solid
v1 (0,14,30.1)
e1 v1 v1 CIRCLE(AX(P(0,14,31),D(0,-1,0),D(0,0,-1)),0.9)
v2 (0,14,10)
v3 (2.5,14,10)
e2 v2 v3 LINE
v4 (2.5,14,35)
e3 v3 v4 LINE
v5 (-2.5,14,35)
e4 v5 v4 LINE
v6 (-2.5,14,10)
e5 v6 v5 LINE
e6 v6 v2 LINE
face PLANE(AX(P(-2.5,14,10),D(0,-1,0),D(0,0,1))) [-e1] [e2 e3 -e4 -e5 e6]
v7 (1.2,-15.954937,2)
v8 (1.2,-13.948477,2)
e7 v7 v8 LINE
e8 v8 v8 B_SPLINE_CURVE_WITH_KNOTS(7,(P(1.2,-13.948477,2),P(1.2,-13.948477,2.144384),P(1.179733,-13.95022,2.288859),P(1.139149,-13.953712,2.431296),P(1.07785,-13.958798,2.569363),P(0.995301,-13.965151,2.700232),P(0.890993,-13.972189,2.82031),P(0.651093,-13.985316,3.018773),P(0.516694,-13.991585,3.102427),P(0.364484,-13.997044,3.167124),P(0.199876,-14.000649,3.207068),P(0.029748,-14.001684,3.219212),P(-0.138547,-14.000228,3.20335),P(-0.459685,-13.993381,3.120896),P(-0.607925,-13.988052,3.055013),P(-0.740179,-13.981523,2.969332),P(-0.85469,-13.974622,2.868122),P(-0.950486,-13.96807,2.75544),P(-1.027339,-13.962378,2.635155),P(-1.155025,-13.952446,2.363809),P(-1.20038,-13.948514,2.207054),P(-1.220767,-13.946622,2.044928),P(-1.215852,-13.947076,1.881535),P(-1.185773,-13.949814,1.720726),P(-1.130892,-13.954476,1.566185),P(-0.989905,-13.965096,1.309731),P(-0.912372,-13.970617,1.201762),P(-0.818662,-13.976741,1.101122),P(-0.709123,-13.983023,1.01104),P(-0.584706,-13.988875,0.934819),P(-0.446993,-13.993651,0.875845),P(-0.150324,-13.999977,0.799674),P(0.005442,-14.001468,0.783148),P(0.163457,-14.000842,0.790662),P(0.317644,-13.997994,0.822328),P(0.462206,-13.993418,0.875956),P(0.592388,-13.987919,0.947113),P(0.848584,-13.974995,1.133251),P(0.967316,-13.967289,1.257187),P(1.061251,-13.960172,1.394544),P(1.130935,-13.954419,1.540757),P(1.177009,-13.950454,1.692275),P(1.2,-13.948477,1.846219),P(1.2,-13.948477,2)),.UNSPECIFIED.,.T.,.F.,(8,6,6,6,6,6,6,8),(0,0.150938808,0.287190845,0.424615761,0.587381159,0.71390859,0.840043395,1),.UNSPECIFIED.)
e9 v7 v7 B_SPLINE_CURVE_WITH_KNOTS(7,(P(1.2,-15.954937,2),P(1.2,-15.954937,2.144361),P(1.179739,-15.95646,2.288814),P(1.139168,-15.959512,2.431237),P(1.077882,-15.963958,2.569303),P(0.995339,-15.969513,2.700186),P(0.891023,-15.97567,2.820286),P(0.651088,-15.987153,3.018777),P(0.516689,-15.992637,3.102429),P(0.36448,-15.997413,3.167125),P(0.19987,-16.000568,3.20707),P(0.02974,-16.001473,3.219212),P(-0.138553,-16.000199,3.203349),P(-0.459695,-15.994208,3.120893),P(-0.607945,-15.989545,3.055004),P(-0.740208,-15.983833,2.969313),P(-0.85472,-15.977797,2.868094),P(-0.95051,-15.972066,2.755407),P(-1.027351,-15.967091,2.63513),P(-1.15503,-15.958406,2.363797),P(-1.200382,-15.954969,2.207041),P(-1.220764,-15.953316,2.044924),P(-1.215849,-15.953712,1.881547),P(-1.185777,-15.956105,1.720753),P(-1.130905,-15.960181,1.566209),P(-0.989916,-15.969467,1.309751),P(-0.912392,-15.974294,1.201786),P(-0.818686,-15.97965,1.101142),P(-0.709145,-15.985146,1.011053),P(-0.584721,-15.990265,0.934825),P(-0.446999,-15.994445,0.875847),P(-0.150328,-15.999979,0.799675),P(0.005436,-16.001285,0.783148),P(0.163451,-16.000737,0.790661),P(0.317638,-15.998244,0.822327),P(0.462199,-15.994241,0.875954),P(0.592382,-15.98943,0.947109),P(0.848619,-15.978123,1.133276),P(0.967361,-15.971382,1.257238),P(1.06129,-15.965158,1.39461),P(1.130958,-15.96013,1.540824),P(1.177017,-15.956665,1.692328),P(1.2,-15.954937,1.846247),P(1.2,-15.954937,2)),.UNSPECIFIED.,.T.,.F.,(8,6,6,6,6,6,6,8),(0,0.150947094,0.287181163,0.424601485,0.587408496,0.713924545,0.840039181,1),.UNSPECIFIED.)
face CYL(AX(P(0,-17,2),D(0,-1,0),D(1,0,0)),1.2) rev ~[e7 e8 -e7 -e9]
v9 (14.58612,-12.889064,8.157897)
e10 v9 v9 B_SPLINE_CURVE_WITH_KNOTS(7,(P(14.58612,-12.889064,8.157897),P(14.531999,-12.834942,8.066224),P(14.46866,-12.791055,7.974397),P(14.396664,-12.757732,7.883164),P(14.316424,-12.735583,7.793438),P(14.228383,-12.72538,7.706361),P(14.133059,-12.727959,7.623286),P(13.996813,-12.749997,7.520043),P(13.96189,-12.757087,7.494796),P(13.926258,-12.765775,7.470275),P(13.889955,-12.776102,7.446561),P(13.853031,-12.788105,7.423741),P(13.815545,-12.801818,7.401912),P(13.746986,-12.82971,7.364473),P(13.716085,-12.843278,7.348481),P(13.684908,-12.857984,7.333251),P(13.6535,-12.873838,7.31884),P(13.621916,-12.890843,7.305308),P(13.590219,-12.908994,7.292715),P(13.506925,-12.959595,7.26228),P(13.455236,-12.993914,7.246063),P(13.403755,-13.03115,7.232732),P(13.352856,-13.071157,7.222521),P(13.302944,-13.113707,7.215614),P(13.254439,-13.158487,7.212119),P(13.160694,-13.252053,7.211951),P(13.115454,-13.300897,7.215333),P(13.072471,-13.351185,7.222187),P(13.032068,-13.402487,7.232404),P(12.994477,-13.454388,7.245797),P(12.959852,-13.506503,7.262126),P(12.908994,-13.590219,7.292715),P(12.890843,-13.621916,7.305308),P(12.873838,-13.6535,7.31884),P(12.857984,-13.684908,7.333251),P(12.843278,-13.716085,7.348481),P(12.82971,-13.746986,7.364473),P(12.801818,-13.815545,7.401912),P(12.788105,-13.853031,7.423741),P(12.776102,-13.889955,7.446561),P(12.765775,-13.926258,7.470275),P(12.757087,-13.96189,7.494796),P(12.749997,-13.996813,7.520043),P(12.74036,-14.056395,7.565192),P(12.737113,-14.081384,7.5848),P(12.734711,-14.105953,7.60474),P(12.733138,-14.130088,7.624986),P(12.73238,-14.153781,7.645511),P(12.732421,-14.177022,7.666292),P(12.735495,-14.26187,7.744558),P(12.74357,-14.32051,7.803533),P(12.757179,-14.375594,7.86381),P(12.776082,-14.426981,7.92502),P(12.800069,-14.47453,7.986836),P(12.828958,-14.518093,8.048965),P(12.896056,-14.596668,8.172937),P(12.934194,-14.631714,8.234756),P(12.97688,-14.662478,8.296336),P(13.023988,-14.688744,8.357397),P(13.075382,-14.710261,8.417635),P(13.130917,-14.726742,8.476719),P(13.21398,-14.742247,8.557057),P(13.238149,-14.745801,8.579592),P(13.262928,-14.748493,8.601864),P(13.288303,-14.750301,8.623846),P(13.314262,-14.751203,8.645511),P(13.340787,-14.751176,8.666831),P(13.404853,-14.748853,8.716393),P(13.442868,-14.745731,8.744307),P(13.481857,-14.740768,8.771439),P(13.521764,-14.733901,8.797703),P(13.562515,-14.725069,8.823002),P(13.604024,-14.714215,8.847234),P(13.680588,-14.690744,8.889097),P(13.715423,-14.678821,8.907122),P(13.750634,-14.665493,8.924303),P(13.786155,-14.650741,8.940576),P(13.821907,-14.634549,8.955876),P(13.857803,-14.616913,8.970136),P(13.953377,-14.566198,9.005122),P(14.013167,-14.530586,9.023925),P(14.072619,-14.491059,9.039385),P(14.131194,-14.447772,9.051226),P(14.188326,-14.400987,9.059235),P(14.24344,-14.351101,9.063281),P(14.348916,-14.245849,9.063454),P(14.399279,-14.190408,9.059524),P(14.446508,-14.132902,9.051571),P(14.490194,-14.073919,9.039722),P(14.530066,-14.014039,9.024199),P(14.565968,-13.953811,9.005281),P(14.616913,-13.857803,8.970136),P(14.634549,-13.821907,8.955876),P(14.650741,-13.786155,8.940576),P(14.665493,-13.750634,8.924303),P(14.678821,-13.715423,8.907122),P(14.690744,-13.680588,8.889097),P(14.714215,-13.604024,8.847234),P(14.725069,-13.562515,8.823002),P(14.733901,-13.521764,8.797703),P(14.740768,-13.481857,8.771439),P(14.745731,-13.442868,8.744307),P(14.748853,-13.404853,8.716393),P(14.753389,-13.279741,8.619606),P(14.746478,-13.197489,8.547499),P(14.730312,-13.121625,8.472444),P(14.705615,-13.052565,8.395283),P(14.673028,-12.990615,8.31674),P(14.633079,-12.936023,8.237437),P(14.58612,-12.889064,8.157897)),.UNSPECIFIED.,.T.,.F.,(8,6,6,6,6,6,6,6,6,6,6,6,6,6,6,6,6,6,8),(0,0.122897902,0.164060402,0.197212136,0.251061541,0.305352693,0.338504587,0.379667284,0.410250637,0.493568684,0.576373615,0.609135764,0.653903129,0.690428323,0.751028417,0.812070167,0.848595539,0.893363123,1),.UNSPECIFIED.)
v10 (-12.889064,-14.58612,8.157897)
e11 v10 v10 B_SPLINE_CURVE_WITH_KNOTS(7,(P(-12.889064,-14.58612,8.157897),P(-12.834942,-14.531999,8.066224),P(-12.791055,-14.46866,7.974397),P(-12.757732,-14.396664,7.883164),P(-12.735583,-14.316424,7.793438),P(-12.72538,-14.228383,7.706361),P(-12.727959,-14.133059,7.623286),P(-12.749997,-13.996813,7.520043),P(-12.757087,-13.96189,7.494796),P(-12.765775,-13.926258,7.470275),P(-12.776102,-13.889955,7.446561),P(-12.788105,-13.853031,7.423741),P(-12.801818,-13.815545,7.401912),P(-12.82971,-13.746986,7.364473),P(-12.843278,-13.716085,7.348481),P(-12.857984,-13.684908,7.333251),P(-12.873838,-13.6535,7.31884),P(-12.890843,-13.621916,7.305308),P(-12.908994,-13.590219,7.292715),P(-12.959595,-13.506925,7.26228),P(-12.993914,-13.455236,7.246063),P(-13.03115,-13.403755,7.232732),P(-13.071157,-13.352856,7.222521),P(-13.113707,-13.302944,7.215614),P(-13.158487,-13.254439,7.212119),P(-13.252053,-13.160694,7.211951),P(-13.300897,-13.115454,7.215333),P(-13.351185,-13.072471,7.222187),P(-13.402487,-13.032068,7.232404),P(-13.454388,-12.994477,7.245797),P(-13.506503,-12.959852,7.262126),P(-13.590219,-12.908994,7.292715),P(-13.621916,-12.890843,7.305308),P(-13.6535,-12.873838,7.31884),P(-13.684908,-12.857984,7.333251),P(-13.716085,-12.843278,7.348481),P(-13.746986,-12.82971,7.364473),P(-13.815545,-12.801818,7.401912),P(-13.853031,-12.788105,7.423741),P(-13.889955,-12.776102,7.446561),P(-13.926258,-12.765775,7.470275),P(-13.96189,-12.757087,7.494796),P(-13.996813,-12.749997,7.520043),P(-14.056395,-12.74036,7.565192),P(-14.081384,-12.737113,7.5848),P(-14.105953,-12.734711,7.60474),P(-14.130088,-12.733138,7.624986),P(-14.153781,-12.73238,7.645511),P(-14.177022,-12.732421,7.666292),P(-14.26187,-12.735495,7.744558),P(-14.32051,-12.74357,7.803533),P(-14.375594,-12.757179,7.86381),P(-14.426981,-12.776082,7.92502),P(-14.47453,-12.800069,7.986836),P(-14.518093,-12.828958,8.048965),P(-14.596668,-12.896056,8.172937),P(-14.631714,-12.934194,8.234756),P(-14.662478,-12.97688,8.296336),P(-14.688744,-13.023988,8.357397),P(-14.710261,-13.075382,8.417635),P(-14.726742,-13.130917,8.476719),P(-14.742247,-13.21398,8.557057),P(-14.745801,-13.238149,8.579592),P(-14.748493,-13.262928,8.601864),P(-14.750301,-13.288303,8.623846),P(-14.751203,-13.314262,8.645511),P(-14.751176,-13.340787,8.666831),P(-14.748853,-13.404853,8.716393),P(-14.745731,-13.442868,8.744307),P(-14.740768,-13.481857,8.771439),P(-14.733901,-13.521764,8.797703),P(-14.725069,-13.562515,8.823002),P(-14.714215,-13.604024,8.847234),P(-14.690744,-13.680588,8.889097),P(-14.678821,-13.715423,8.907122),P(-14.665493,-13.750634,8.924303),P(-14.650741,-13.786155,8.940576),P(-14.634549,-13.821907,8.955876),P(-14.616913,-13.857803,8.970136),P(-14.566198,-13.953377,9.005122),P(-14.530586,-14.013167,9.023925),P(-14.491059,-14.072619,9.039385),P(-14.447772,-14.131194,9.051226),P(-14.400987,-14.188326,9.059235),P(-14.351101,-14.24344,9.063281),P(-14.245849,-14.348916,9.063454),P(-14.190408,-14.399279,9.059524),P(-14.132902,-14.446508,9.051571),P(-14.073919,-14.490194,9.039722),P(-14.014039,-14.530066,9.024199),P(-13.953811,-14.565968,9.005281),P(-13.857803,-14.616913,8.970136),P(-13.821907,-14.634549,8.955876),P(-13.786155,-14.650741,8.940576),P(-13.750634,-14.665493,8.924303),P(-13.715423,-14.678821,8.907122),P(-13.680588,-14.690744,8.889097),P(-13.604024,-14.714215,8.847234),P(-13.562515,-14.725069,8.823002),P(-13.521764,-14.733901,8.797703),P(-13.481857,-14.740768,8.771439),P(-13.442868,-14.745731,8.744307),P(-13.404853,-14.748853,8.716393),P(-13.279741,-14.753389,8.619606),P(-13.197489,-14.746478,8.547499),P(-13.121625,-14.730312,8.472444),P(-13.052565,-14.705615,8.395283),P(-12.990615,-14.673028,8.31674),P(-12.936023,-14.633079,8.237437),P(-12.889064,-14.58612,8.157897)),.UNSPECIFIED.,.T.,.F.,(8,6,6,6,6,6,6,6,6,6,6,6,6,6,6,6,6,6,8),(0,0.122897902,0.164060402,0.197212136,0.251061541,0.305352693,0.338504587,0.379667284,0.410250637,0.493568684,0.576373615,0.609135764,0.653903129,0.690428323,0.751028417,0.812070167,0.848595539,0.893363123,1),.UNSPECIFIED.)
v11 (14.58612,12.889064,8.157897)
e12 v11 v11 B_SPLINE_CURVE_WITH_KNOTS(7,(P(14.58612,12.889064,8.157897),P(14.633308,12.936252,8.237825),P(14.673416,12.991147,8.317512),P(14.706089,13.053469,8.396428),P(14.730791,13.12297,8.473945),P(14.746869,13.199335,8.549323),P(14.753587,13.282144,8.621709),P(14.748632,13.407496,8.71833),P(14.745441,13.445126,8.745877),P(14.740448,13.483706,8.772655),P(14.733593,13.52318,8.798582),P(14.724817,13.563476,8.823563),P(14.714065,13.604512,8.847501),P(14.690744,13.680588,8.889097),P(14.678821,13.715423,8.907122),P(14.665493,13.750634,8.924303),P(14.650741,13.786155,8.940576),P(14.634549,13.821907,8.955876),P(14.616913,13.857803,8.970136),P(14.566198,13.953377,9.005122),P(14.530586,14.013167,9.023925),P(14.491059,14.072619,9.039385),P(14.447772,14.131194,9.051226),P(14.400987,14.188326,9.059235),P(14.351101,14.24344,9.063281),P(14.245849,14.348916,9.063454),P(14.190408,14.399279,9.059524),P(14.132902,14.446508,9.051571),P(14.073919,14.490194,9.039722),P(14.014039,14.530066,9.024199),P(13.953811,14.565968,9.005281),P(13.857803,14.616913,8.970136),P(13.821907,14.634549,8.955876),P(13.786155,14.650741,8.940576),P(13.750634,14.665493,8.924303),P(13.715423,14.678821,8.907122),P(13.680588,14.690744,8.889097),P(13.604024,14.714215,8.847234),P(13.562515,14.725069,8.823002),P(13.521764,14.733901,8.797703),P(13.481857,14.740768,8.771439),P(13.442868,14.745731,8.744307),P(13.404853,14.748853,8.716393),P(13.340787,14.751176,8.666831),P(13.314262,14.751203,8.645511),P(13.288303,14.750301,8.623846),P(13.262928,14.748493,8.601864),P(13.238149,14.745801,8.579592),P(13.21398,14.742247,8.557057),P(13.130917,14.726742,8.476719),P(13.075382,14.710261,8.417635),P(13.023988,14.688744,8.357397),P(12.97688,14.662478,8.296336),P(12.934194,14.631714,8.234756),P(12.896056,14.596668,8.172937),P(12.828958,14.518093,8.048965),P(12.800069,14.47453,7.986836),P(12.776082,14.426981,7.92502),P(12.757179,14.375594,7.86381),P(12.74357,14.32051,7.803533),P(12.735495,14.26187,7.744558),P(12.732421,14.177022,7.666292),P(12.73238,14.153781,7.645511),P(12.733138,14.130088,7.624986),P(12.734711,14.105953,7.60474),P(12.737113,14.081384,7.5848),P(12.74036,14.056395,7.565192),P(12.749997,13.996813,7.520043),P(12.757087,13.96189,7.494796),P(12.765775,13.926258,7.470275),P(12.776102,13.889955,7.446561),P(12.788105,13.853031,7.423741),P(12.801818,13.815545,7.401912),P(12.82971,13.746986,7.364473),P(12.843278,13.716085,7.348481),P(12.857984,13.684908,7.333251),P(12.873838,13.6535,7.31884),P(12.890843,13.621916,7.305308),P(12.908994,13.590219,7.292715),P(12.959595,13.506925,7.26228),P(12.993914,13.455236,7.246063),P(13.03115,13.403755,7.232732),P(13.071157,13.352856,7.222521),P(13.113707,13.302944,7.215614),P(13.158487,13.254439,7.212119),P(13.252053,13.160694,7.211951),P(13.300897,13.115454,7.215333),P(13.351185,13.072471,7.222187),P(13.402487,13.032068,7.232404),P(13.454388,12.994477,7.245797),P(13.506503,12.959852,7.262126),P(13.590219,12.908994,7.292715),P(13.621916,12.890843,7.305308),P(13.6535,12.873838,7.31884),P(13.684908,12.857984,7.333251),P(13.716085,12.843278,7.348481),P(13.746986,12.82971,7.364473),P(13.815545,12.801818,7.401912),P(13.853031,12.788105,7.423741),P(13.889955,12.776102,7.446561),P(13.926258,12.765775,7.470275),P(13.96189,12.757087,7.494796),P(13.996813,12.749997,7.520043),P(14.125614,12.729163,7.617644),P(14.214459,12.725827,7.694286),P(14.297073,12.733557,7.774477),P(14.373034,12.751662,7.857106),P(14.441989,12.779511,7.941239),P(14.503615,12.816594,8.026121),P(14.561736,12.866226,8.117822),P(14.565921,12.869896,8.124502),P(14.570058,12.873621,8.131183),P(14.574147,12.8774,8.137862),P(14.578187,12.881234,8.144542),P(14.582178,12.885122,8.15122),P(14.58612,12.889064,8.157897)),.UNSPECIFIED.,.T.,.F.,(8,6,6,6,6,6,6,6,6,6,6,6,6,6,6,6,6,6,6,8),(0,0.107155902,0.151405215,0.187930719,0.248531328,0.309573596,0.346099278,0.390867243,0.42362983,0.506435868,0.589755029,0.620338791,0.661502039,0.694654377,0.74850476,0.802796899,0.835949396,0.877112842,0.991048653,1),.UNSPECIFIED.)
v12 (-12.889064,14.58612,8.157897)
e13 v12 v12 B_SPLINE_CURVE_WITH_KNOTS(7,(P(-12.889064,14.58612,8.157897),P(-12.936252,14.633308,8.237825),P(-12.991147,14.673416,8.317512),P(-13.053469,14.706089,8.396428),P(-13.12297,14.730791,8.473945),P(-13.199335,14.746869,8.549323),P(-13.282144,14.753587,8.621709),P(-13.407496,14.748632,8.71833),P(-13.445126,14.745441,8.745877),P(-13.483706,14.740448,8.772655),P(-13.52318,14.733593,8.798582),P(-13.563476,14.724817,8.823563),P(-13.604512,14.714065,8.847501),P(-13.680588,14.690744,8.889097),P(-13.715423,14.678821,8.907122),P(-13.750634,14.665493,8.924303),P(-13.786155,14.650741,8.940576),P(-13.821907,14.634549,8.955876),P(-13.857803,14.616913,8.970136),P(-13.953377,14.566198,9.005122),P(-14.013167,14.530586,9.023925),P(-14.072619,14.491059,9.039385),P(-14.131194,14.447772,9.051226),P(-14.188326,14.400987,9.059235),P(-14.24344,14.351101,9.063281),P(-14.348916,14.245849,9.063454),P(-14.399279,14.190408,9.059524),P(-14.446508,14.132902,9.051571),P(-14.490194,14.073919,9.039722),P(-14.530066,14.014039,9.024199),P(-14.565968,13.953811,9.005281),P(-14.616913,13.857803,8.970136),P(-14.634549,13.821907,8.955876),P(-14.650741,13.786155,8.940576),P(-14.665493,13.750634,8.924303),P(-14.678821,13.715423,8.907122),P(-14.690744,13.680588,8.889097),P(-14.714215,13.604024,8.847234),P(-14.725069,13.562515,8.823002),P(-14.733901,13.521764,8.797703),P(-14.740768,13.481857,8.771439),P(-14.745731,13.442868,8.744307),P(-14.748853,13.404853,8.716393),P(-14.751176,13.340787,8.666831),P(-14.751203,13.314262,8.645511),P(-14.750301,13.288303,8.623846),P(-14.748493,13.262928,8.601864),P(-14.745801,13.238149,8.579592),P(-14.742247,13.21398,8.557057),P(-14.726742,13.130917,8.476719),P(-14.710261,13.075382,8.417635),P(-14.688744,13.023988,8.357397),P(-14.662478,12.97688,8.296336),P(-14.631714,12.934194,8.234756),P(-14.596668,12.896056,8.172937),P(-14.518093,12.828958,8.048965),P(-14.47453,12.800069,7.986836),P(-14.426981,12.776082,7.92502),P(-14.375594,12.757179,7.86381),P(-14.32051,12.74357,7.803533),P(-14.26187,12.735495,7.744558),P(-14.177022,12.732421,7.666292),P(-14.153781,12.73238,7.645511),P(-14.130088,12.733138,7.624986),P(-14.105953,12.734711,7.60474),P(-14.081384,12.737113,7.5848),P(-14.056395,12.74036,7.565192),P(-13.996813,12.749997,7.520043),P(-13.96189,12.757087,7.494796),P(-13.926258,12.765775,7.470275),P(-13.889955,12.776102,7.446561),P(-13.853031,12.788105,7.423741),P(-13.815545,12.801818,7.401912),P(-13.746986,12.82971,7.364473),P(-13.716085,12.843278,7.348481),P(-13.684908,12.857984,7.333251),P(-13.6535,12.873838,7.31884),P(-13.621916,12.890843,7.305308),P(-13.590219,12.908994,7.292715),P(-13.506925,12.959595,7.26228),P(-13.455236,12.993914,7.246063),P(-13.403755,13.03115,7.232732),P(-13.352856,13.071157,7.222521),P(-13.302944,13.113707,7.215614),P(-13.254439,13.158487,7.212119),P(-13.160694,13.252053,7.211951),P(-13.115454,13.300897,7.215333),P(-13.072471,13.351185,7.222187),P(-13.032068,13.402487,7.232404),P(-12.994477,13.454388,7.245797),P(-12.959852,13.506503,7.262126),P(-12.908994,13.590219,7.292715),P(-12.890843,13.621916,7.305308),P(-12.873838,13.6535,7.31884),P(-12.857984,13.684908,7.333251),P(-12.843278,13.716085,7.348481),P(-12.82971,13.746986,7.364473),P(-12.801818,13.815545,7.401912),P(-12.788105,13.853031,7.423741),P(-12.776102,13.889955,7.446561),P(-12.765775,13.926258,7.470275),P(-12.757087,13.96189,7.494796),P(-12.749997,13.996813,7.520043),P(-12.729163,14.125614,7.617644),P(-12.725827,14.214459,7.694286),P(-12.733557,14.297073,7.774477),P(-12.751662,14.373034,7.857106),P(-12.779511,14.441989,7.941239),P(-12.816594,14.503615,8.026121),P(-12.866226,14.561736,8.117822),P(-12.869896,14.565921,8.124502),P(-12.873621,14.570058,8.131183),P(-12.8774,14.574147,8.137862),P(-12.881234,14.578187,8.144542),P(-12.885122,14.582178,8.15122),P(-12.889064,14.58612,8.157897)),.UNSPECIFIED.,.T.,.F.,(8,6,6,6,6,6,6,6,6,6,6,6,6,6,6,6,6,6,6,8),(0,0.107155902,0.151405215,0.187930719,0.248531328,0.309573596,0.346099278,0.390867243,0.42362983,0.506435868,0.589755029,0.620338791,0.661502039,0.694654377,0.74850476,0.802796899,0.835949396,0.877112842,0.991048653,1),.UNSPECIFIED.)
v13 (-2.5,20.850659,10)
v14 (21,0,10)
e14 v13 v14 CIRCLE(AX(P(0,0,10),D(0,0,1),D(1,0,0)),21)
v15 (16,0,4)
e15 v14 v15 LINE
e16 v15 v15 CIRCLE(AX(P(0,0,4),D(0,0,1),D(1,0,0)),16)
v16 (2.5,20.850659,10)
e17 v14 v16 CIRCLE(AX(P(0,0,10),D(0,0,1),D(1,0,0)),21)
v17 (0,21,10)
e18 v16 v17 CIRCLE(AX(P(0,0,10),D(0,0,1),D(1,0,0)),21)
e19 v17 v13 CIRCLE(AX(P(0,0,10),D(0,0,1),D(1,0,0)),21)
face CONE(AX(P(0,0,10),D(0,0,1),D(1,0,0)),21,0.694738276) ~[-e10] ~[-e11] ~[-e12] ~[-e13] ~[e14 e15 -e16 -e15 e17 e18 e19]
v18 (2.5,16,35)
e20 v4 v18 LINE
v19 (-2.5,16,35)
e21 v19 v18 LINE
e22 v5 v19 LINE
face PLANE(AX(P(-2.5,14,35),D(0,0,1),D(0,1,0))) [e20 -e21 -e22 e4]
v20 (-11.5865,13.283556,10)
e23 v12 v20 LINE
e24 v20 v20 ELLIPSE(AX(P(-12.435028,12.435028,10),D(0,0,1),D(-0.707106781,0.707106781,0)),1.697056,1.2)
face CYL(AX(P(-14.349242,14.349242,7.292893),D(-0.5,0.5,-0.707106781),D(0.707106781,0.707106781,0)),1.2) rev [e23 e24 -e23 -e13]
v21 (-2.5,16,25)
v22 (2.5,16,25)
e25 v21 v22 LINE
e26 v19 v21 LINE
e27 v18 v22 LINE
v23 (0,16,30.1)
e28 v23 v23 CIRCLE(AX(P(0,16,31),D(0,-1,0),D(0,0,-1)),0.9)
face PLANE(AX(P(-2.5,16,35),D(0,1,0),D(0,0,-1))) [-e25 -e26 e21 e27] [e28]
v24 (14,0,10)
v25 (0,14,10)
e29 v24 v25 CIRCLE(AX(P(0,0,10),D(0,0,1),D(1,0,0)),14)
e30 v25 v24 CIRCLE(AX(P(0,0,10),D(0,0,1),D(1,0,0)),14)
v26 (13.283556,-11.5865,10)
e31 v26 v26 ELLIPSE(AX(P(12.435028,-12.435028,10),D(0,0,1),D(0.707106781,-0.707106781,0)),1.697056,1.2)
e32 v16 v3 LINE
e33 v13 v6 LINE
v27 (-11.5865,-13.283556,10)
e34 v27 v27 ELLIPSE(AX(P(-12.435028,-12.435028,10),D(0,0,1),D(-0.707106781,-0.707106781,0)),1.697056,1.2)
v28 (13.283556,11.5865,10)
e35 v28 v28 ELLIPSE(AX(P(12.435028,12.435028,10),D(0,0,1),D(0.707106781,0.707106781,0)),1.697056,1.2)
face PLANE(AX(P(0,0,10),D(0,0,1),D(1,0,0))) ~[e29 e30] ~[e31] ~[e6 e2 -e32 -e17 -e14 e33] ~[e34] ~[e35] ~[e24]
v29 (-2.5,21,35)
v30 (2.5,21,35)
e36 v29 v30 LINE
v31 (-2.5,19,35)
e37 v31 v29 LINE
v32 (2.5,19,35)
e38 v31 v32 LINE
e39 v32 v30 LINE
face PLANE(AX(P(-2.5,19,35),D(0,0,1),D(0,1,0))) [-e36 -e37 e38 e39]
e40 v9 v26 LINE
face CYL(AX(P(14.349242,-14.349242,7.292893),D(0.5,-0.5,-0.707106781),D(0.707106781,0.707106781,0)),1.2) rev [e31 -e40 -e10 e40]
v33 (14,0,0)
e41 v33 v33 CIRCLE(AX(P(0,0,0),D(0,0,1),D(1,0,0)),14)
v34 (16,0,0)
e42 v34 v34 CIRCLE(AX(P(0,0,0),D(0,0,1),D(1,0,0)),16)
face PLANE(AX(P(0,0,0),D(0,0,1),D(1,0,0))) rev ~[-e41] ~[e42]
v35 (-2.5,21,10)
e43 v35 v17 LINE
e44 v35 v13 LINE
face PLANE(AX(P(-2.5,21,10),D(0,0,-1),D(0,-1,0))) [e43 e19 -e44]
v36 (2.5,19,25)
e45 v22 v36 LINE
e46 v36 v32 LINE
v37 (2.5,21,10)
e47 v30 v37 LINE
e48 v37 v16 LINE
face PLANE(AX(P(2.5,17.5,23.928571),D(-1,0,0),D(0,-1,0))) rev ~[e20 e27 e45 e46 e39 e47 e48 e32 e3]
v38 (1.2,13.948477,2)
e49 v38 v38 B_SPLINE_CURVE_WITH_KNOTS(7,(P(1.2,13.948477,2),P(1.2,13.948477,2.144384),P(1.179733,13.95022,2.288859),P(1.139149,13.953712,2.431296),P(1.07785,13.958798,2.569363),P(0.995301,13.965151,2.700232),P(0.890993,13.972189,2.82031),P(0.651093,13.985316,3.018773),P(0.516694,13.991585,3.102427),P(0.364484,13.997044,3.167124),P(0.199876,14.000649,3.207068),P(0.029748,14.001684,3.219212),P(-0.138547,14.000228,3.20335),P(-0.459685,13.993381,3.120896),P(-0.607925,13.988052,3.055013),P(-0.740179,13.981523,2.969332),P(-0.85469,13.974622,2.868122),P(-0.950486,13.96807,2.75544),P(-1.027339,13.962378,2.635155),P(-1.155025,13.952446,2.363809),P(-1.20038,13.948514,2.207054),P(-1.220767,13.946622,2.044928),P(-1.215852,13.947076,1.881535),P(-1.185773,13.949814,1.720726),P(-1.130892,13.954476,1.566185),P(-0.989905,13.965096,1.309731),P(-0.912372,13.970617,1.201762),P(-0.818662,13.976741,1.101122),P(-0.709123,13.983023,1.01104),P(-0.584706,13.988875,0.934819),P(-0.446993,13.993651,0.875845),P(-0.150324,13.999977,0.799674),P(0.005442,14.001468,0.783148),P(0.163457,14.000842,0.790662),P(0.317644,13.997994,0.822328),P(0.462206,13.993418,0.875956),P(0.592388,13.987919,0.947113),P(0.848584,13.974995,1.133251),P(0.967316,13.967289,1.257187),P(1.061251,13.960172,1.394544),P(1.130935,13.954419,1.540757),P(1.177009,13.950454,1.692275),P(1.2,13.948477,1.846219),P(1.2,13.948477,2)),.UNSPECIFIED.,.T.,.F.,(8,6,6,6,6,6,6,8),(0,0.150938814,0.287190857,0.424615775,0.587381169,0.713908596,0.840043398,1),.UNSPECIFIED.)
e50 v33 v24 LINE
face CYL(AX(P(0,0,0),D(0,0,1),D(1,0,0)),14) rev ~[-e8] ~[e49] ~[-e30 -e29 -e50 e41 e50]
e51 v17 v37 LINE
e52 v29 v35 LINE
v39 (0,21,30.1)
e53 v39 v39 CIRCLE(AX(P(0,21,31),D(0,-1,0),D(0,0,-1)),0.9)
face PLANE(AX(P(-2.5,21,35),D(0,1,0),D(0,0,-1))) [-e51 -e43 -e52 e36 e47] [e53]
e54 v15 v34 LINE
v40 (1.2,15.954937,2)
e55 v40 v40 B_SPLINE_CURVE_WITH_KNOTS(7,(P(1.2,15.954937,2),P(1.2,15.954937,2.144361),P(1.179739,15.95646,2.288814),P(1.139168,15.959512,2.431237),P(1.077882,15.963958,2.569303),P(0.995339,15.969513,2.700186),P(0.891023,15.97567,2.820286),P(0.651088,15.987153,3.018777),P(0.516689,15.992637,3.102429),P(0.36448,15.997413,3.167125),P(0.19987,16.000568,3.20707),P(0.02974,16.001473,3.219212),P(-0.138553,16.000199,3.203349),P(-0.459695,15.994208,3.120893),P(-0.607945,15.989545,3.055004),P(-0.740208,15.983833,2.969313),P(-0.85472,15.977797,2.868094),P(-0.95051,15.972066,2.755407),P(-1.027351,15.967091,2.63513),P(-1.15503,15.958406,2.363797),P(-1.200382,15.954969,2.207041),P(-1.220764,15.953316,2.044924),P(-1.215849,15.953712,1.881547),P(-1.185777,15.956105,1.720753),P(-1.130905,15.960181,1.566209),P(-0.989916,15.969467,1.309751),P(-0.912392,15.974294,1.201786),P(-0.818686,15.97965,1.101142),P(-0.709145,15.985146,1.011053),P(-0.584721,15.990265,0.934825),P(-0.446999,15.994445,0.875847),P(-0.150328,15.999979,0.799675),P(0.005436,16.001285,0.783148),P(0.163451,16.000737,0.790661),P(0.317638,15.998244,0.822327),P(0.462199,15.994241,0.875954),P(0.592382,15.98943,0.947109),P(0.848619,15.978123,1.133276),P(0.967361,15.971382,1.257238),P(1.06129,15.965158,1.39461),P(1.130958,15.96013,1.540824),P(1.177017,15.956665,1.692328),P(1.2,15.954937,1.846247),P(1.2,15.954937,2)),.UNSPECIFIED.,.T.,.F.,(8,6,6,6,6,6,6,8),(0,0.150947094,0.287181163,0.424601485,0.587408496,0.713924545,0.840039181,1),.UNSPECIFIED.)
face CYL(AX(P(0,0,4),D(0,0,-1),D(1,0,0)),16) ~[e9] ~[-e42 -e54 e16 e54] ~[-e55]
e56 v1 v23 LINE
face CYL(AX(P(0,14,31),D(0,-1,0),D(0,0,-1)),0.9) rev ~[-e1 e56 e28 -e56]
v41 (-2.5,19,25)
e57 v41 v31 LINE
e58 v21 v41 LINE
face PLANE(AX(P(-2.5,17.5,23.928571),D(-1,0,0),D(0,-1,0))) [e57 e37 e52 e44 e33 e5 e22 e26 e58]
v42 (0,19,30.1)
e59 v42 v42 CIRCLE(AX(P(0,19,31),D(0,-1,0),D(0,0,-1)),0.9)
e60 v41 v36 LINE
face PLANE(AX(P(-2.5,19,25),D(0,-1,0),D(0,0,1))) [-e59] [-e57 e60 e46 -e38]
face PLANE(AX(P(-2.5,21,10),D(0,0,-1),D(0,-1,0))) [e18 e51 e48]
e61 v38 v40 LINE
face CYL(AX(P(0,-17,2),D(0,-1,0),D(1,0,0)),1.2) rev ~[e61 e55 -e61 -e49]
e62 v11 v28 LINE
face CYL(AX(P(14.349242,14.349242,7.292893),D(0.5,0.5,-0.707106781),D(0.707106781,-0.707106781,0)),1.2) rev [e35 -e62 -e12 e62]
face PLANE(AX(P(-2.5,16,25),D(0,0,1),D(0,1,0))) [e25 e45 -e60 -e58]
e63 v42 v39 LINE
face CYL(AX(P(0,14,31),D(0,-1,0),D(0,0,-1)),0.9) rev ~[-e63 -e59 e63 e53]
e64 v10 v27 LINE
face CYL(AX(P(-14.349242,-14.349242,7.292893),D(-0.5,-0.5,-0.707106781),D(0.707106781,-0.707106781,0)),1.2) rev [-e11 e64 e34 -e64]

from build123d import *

# Parameters (mm, degrees)
CYLINDER001_R               = 1.2
CYLINDER001_DEPTH           = 10
CYLINDER001_ROLL_ANGLE      = -45
CYLINDER001_PLACEMENT_ANGLE = 45
CYLINDER002_R               = 1.2
CYLINDER002_DEPTH           = 10
CYLINDER002_ROLL_ANGLE      = 45
CYLINDER002_PLACEMENT_ANGLE = -45
CYLINDER003_R               = 1.2
CYLINDER003_DEPTH           = 10
CYLINDER003_ROLL_ANGLE      = 45
CYLINDER003_PLACEMENT_ANGLE = 45
CYLINDER_R                  = 1.2
CYLINDER_DEPTH              = 10
CYLINDER_ROLL_ANGLE         = -45
CYLINDER_PLACEMENT_ANGLE    = -45
PAD_DEPTH                   = 5
SKETCH003_R                 = 0.9
POCKET001_DEPTH             = 7.001
SKETCH001_R                 = 1.2
POCKET_DEPTH                = 38.001


with BuildPart() as cylinder001:
    # Cylinder001 → Cylinder001 (new body)
    with BuildSketch(Plane.XY):
        Circle(CYLINDER001_R)
    extrude(amount=CYLINDER001_DEPTH)


with BuildPart() as cylinder001_1:
    # Cylinder001 roll: moved
    add(cylinder001.part.rotate(Axis((0, 0, 0), (1, 0, 0)), CYLINDER001_ROLL_ANGLE))


with BuildPart() as cylinder001_2:
    # Cylinder001 placement: moved
    add(cylinder001_1.part.moved(Location((14.349242, -14.349242, 7.292893))).rotate(Axis((14.349242, -14.349242, 7.292893), (0, 0, 1)), CYLINDER001_PLACEMENT_ANGLE))


with BuildPart() as cylinder002:
    # Cylinder002 → Cylinder002 (new body)
    with BuildSketch(Plane.XY):
        Circle(CYLINDER002_R)
    extrude(amount=CYLINDER002_DEPTH)


with BuildPart() as cylinder002_1:
    # Cylinder002 roll: moved
    add(cylinder002.part.rotate(Axis((0, 0, 0), (1, 0, 0)), CYLINDER002_ROLL_ANGLE))


with BuildPart() as cylinder002_2:
    # Cylinder002 placement: moved
    add(cylinder002_1.part.moved(Location((14.349242, 14.349242, 7.292893))).rotate(Axis((14.349242, 14.349242, 7.292893), (0, 0, 1)), CYLINDER002_PLACEMENT_ANGLE))


with BuildPart() as cylinder003:
    # Cylinder003 → Cylinder003 (new body)
    with BuildSketch(Plane.XY):
        Circle(CYLINDER003_R)
    extrude(amount=CYLINDER003_DEPTH)


with BuildPart() as cylinder003_1:
    # Cylinder003 roll: moved
    add(cylinder003.part.rotate(Axis((0, 0, 0), (1, 0, 0)), CYLINDER003_ROLL_ANGLE))


with BuildPart() as cylinder003_2:
    # Cylinder003 placement: moved
    add(cylinder003_1.part.moved(Location((-14.349242, 14.349242, 7.292893))).rotate(Axis((-14.349242, 14.349242, 7.292893), (0, 0, 1)), CYLINDER003_PLACEMENT_ANGLE))


with BuildPart() as fusion001:
    # Cylinder → Cylinder (new body)
    with BuildSketch(Plane.XY):
        Circle(CYLINDER_R)
    extrude(amount=CYLINDER_DEPTH)


with BuildPart() as fusion001_1:
    # Cylinder roll: moved
    add(fusion001.part.rotate(Axis((0, 0, 0), (1, 0, 0)), CYLINDER_ROLL_ANGLE))


with BuildPart() as fusion001_2:
    # Cylinder placement: moved
    add(fusion001_1.part.moved(Location((-14.349242, -14.349242, 7.292893))).rotate(Axis((-14.349242, -14.349242, 7.292893), (0, 0, 1)), CYLINDER_PLACEMENT_ANGLE))

    # Fusion001: union Cylinder001, Cylinder002, Cylinder003
    add(cylinder001_2.part)
    add(cylinder002_2.part)
    add(cylinder003_2.part)


with BuildPart() as body001:
    # Sketch002 → Pad (new body)
    with BuildSketch(Plane.YZ):
        Polygon((14, 10), (14, 35), (16, 35), (16, 25), (19, 25), (19, 35), (21, 35), (21, 10), align=None)
    extrude(amount=PAD_DEPTH)

    # Sketch003 (on Face1 of Pad) → Pocket001 (cut, through all)
    with BuildSketch(Plane(origin=(0, 14, 0), x_dir=(0, 0, -1), z_dir=(0, -1, 0))):
        with Locations((-31, 2.5)):
            Circle(SKETCH003_R)
    extrude(amount=-POCKET001_DEPTH, mode=Mode.SUBTRACT)


with BuildPart() as body001_1:
    # Body001 placement: moved
    add(body001.part.moved(Location((-2.5, 0, 0))))


with BuildPart() as cut:
    # Sketch → Revolution (revolve)
    with BuildSketch(Plane.XZ):
        Polygon((16, 4), (16, 0), (14, 0), (14, 10), (21, 10), align=None)
    revolve(axis=Axis((0, 0, 0), (0, 0, 1)))

    # Sketch001 → Pocket (cut, through all)
    with BuildSketch(Plane.XZ.offset(17)):
        with Locations((0, 2)):
            Circle(SKETCH001_R)
    extrude(amount=-POCKET_DEPTH, mode=Mode.SUBTRACT)

    # Fusion: union Body001
    add(body001_1.part)

    # Cut: cut Fusion001
    add(fusion001_2.part, mode=Mode.SUBTRACT)


solid = cut.part
